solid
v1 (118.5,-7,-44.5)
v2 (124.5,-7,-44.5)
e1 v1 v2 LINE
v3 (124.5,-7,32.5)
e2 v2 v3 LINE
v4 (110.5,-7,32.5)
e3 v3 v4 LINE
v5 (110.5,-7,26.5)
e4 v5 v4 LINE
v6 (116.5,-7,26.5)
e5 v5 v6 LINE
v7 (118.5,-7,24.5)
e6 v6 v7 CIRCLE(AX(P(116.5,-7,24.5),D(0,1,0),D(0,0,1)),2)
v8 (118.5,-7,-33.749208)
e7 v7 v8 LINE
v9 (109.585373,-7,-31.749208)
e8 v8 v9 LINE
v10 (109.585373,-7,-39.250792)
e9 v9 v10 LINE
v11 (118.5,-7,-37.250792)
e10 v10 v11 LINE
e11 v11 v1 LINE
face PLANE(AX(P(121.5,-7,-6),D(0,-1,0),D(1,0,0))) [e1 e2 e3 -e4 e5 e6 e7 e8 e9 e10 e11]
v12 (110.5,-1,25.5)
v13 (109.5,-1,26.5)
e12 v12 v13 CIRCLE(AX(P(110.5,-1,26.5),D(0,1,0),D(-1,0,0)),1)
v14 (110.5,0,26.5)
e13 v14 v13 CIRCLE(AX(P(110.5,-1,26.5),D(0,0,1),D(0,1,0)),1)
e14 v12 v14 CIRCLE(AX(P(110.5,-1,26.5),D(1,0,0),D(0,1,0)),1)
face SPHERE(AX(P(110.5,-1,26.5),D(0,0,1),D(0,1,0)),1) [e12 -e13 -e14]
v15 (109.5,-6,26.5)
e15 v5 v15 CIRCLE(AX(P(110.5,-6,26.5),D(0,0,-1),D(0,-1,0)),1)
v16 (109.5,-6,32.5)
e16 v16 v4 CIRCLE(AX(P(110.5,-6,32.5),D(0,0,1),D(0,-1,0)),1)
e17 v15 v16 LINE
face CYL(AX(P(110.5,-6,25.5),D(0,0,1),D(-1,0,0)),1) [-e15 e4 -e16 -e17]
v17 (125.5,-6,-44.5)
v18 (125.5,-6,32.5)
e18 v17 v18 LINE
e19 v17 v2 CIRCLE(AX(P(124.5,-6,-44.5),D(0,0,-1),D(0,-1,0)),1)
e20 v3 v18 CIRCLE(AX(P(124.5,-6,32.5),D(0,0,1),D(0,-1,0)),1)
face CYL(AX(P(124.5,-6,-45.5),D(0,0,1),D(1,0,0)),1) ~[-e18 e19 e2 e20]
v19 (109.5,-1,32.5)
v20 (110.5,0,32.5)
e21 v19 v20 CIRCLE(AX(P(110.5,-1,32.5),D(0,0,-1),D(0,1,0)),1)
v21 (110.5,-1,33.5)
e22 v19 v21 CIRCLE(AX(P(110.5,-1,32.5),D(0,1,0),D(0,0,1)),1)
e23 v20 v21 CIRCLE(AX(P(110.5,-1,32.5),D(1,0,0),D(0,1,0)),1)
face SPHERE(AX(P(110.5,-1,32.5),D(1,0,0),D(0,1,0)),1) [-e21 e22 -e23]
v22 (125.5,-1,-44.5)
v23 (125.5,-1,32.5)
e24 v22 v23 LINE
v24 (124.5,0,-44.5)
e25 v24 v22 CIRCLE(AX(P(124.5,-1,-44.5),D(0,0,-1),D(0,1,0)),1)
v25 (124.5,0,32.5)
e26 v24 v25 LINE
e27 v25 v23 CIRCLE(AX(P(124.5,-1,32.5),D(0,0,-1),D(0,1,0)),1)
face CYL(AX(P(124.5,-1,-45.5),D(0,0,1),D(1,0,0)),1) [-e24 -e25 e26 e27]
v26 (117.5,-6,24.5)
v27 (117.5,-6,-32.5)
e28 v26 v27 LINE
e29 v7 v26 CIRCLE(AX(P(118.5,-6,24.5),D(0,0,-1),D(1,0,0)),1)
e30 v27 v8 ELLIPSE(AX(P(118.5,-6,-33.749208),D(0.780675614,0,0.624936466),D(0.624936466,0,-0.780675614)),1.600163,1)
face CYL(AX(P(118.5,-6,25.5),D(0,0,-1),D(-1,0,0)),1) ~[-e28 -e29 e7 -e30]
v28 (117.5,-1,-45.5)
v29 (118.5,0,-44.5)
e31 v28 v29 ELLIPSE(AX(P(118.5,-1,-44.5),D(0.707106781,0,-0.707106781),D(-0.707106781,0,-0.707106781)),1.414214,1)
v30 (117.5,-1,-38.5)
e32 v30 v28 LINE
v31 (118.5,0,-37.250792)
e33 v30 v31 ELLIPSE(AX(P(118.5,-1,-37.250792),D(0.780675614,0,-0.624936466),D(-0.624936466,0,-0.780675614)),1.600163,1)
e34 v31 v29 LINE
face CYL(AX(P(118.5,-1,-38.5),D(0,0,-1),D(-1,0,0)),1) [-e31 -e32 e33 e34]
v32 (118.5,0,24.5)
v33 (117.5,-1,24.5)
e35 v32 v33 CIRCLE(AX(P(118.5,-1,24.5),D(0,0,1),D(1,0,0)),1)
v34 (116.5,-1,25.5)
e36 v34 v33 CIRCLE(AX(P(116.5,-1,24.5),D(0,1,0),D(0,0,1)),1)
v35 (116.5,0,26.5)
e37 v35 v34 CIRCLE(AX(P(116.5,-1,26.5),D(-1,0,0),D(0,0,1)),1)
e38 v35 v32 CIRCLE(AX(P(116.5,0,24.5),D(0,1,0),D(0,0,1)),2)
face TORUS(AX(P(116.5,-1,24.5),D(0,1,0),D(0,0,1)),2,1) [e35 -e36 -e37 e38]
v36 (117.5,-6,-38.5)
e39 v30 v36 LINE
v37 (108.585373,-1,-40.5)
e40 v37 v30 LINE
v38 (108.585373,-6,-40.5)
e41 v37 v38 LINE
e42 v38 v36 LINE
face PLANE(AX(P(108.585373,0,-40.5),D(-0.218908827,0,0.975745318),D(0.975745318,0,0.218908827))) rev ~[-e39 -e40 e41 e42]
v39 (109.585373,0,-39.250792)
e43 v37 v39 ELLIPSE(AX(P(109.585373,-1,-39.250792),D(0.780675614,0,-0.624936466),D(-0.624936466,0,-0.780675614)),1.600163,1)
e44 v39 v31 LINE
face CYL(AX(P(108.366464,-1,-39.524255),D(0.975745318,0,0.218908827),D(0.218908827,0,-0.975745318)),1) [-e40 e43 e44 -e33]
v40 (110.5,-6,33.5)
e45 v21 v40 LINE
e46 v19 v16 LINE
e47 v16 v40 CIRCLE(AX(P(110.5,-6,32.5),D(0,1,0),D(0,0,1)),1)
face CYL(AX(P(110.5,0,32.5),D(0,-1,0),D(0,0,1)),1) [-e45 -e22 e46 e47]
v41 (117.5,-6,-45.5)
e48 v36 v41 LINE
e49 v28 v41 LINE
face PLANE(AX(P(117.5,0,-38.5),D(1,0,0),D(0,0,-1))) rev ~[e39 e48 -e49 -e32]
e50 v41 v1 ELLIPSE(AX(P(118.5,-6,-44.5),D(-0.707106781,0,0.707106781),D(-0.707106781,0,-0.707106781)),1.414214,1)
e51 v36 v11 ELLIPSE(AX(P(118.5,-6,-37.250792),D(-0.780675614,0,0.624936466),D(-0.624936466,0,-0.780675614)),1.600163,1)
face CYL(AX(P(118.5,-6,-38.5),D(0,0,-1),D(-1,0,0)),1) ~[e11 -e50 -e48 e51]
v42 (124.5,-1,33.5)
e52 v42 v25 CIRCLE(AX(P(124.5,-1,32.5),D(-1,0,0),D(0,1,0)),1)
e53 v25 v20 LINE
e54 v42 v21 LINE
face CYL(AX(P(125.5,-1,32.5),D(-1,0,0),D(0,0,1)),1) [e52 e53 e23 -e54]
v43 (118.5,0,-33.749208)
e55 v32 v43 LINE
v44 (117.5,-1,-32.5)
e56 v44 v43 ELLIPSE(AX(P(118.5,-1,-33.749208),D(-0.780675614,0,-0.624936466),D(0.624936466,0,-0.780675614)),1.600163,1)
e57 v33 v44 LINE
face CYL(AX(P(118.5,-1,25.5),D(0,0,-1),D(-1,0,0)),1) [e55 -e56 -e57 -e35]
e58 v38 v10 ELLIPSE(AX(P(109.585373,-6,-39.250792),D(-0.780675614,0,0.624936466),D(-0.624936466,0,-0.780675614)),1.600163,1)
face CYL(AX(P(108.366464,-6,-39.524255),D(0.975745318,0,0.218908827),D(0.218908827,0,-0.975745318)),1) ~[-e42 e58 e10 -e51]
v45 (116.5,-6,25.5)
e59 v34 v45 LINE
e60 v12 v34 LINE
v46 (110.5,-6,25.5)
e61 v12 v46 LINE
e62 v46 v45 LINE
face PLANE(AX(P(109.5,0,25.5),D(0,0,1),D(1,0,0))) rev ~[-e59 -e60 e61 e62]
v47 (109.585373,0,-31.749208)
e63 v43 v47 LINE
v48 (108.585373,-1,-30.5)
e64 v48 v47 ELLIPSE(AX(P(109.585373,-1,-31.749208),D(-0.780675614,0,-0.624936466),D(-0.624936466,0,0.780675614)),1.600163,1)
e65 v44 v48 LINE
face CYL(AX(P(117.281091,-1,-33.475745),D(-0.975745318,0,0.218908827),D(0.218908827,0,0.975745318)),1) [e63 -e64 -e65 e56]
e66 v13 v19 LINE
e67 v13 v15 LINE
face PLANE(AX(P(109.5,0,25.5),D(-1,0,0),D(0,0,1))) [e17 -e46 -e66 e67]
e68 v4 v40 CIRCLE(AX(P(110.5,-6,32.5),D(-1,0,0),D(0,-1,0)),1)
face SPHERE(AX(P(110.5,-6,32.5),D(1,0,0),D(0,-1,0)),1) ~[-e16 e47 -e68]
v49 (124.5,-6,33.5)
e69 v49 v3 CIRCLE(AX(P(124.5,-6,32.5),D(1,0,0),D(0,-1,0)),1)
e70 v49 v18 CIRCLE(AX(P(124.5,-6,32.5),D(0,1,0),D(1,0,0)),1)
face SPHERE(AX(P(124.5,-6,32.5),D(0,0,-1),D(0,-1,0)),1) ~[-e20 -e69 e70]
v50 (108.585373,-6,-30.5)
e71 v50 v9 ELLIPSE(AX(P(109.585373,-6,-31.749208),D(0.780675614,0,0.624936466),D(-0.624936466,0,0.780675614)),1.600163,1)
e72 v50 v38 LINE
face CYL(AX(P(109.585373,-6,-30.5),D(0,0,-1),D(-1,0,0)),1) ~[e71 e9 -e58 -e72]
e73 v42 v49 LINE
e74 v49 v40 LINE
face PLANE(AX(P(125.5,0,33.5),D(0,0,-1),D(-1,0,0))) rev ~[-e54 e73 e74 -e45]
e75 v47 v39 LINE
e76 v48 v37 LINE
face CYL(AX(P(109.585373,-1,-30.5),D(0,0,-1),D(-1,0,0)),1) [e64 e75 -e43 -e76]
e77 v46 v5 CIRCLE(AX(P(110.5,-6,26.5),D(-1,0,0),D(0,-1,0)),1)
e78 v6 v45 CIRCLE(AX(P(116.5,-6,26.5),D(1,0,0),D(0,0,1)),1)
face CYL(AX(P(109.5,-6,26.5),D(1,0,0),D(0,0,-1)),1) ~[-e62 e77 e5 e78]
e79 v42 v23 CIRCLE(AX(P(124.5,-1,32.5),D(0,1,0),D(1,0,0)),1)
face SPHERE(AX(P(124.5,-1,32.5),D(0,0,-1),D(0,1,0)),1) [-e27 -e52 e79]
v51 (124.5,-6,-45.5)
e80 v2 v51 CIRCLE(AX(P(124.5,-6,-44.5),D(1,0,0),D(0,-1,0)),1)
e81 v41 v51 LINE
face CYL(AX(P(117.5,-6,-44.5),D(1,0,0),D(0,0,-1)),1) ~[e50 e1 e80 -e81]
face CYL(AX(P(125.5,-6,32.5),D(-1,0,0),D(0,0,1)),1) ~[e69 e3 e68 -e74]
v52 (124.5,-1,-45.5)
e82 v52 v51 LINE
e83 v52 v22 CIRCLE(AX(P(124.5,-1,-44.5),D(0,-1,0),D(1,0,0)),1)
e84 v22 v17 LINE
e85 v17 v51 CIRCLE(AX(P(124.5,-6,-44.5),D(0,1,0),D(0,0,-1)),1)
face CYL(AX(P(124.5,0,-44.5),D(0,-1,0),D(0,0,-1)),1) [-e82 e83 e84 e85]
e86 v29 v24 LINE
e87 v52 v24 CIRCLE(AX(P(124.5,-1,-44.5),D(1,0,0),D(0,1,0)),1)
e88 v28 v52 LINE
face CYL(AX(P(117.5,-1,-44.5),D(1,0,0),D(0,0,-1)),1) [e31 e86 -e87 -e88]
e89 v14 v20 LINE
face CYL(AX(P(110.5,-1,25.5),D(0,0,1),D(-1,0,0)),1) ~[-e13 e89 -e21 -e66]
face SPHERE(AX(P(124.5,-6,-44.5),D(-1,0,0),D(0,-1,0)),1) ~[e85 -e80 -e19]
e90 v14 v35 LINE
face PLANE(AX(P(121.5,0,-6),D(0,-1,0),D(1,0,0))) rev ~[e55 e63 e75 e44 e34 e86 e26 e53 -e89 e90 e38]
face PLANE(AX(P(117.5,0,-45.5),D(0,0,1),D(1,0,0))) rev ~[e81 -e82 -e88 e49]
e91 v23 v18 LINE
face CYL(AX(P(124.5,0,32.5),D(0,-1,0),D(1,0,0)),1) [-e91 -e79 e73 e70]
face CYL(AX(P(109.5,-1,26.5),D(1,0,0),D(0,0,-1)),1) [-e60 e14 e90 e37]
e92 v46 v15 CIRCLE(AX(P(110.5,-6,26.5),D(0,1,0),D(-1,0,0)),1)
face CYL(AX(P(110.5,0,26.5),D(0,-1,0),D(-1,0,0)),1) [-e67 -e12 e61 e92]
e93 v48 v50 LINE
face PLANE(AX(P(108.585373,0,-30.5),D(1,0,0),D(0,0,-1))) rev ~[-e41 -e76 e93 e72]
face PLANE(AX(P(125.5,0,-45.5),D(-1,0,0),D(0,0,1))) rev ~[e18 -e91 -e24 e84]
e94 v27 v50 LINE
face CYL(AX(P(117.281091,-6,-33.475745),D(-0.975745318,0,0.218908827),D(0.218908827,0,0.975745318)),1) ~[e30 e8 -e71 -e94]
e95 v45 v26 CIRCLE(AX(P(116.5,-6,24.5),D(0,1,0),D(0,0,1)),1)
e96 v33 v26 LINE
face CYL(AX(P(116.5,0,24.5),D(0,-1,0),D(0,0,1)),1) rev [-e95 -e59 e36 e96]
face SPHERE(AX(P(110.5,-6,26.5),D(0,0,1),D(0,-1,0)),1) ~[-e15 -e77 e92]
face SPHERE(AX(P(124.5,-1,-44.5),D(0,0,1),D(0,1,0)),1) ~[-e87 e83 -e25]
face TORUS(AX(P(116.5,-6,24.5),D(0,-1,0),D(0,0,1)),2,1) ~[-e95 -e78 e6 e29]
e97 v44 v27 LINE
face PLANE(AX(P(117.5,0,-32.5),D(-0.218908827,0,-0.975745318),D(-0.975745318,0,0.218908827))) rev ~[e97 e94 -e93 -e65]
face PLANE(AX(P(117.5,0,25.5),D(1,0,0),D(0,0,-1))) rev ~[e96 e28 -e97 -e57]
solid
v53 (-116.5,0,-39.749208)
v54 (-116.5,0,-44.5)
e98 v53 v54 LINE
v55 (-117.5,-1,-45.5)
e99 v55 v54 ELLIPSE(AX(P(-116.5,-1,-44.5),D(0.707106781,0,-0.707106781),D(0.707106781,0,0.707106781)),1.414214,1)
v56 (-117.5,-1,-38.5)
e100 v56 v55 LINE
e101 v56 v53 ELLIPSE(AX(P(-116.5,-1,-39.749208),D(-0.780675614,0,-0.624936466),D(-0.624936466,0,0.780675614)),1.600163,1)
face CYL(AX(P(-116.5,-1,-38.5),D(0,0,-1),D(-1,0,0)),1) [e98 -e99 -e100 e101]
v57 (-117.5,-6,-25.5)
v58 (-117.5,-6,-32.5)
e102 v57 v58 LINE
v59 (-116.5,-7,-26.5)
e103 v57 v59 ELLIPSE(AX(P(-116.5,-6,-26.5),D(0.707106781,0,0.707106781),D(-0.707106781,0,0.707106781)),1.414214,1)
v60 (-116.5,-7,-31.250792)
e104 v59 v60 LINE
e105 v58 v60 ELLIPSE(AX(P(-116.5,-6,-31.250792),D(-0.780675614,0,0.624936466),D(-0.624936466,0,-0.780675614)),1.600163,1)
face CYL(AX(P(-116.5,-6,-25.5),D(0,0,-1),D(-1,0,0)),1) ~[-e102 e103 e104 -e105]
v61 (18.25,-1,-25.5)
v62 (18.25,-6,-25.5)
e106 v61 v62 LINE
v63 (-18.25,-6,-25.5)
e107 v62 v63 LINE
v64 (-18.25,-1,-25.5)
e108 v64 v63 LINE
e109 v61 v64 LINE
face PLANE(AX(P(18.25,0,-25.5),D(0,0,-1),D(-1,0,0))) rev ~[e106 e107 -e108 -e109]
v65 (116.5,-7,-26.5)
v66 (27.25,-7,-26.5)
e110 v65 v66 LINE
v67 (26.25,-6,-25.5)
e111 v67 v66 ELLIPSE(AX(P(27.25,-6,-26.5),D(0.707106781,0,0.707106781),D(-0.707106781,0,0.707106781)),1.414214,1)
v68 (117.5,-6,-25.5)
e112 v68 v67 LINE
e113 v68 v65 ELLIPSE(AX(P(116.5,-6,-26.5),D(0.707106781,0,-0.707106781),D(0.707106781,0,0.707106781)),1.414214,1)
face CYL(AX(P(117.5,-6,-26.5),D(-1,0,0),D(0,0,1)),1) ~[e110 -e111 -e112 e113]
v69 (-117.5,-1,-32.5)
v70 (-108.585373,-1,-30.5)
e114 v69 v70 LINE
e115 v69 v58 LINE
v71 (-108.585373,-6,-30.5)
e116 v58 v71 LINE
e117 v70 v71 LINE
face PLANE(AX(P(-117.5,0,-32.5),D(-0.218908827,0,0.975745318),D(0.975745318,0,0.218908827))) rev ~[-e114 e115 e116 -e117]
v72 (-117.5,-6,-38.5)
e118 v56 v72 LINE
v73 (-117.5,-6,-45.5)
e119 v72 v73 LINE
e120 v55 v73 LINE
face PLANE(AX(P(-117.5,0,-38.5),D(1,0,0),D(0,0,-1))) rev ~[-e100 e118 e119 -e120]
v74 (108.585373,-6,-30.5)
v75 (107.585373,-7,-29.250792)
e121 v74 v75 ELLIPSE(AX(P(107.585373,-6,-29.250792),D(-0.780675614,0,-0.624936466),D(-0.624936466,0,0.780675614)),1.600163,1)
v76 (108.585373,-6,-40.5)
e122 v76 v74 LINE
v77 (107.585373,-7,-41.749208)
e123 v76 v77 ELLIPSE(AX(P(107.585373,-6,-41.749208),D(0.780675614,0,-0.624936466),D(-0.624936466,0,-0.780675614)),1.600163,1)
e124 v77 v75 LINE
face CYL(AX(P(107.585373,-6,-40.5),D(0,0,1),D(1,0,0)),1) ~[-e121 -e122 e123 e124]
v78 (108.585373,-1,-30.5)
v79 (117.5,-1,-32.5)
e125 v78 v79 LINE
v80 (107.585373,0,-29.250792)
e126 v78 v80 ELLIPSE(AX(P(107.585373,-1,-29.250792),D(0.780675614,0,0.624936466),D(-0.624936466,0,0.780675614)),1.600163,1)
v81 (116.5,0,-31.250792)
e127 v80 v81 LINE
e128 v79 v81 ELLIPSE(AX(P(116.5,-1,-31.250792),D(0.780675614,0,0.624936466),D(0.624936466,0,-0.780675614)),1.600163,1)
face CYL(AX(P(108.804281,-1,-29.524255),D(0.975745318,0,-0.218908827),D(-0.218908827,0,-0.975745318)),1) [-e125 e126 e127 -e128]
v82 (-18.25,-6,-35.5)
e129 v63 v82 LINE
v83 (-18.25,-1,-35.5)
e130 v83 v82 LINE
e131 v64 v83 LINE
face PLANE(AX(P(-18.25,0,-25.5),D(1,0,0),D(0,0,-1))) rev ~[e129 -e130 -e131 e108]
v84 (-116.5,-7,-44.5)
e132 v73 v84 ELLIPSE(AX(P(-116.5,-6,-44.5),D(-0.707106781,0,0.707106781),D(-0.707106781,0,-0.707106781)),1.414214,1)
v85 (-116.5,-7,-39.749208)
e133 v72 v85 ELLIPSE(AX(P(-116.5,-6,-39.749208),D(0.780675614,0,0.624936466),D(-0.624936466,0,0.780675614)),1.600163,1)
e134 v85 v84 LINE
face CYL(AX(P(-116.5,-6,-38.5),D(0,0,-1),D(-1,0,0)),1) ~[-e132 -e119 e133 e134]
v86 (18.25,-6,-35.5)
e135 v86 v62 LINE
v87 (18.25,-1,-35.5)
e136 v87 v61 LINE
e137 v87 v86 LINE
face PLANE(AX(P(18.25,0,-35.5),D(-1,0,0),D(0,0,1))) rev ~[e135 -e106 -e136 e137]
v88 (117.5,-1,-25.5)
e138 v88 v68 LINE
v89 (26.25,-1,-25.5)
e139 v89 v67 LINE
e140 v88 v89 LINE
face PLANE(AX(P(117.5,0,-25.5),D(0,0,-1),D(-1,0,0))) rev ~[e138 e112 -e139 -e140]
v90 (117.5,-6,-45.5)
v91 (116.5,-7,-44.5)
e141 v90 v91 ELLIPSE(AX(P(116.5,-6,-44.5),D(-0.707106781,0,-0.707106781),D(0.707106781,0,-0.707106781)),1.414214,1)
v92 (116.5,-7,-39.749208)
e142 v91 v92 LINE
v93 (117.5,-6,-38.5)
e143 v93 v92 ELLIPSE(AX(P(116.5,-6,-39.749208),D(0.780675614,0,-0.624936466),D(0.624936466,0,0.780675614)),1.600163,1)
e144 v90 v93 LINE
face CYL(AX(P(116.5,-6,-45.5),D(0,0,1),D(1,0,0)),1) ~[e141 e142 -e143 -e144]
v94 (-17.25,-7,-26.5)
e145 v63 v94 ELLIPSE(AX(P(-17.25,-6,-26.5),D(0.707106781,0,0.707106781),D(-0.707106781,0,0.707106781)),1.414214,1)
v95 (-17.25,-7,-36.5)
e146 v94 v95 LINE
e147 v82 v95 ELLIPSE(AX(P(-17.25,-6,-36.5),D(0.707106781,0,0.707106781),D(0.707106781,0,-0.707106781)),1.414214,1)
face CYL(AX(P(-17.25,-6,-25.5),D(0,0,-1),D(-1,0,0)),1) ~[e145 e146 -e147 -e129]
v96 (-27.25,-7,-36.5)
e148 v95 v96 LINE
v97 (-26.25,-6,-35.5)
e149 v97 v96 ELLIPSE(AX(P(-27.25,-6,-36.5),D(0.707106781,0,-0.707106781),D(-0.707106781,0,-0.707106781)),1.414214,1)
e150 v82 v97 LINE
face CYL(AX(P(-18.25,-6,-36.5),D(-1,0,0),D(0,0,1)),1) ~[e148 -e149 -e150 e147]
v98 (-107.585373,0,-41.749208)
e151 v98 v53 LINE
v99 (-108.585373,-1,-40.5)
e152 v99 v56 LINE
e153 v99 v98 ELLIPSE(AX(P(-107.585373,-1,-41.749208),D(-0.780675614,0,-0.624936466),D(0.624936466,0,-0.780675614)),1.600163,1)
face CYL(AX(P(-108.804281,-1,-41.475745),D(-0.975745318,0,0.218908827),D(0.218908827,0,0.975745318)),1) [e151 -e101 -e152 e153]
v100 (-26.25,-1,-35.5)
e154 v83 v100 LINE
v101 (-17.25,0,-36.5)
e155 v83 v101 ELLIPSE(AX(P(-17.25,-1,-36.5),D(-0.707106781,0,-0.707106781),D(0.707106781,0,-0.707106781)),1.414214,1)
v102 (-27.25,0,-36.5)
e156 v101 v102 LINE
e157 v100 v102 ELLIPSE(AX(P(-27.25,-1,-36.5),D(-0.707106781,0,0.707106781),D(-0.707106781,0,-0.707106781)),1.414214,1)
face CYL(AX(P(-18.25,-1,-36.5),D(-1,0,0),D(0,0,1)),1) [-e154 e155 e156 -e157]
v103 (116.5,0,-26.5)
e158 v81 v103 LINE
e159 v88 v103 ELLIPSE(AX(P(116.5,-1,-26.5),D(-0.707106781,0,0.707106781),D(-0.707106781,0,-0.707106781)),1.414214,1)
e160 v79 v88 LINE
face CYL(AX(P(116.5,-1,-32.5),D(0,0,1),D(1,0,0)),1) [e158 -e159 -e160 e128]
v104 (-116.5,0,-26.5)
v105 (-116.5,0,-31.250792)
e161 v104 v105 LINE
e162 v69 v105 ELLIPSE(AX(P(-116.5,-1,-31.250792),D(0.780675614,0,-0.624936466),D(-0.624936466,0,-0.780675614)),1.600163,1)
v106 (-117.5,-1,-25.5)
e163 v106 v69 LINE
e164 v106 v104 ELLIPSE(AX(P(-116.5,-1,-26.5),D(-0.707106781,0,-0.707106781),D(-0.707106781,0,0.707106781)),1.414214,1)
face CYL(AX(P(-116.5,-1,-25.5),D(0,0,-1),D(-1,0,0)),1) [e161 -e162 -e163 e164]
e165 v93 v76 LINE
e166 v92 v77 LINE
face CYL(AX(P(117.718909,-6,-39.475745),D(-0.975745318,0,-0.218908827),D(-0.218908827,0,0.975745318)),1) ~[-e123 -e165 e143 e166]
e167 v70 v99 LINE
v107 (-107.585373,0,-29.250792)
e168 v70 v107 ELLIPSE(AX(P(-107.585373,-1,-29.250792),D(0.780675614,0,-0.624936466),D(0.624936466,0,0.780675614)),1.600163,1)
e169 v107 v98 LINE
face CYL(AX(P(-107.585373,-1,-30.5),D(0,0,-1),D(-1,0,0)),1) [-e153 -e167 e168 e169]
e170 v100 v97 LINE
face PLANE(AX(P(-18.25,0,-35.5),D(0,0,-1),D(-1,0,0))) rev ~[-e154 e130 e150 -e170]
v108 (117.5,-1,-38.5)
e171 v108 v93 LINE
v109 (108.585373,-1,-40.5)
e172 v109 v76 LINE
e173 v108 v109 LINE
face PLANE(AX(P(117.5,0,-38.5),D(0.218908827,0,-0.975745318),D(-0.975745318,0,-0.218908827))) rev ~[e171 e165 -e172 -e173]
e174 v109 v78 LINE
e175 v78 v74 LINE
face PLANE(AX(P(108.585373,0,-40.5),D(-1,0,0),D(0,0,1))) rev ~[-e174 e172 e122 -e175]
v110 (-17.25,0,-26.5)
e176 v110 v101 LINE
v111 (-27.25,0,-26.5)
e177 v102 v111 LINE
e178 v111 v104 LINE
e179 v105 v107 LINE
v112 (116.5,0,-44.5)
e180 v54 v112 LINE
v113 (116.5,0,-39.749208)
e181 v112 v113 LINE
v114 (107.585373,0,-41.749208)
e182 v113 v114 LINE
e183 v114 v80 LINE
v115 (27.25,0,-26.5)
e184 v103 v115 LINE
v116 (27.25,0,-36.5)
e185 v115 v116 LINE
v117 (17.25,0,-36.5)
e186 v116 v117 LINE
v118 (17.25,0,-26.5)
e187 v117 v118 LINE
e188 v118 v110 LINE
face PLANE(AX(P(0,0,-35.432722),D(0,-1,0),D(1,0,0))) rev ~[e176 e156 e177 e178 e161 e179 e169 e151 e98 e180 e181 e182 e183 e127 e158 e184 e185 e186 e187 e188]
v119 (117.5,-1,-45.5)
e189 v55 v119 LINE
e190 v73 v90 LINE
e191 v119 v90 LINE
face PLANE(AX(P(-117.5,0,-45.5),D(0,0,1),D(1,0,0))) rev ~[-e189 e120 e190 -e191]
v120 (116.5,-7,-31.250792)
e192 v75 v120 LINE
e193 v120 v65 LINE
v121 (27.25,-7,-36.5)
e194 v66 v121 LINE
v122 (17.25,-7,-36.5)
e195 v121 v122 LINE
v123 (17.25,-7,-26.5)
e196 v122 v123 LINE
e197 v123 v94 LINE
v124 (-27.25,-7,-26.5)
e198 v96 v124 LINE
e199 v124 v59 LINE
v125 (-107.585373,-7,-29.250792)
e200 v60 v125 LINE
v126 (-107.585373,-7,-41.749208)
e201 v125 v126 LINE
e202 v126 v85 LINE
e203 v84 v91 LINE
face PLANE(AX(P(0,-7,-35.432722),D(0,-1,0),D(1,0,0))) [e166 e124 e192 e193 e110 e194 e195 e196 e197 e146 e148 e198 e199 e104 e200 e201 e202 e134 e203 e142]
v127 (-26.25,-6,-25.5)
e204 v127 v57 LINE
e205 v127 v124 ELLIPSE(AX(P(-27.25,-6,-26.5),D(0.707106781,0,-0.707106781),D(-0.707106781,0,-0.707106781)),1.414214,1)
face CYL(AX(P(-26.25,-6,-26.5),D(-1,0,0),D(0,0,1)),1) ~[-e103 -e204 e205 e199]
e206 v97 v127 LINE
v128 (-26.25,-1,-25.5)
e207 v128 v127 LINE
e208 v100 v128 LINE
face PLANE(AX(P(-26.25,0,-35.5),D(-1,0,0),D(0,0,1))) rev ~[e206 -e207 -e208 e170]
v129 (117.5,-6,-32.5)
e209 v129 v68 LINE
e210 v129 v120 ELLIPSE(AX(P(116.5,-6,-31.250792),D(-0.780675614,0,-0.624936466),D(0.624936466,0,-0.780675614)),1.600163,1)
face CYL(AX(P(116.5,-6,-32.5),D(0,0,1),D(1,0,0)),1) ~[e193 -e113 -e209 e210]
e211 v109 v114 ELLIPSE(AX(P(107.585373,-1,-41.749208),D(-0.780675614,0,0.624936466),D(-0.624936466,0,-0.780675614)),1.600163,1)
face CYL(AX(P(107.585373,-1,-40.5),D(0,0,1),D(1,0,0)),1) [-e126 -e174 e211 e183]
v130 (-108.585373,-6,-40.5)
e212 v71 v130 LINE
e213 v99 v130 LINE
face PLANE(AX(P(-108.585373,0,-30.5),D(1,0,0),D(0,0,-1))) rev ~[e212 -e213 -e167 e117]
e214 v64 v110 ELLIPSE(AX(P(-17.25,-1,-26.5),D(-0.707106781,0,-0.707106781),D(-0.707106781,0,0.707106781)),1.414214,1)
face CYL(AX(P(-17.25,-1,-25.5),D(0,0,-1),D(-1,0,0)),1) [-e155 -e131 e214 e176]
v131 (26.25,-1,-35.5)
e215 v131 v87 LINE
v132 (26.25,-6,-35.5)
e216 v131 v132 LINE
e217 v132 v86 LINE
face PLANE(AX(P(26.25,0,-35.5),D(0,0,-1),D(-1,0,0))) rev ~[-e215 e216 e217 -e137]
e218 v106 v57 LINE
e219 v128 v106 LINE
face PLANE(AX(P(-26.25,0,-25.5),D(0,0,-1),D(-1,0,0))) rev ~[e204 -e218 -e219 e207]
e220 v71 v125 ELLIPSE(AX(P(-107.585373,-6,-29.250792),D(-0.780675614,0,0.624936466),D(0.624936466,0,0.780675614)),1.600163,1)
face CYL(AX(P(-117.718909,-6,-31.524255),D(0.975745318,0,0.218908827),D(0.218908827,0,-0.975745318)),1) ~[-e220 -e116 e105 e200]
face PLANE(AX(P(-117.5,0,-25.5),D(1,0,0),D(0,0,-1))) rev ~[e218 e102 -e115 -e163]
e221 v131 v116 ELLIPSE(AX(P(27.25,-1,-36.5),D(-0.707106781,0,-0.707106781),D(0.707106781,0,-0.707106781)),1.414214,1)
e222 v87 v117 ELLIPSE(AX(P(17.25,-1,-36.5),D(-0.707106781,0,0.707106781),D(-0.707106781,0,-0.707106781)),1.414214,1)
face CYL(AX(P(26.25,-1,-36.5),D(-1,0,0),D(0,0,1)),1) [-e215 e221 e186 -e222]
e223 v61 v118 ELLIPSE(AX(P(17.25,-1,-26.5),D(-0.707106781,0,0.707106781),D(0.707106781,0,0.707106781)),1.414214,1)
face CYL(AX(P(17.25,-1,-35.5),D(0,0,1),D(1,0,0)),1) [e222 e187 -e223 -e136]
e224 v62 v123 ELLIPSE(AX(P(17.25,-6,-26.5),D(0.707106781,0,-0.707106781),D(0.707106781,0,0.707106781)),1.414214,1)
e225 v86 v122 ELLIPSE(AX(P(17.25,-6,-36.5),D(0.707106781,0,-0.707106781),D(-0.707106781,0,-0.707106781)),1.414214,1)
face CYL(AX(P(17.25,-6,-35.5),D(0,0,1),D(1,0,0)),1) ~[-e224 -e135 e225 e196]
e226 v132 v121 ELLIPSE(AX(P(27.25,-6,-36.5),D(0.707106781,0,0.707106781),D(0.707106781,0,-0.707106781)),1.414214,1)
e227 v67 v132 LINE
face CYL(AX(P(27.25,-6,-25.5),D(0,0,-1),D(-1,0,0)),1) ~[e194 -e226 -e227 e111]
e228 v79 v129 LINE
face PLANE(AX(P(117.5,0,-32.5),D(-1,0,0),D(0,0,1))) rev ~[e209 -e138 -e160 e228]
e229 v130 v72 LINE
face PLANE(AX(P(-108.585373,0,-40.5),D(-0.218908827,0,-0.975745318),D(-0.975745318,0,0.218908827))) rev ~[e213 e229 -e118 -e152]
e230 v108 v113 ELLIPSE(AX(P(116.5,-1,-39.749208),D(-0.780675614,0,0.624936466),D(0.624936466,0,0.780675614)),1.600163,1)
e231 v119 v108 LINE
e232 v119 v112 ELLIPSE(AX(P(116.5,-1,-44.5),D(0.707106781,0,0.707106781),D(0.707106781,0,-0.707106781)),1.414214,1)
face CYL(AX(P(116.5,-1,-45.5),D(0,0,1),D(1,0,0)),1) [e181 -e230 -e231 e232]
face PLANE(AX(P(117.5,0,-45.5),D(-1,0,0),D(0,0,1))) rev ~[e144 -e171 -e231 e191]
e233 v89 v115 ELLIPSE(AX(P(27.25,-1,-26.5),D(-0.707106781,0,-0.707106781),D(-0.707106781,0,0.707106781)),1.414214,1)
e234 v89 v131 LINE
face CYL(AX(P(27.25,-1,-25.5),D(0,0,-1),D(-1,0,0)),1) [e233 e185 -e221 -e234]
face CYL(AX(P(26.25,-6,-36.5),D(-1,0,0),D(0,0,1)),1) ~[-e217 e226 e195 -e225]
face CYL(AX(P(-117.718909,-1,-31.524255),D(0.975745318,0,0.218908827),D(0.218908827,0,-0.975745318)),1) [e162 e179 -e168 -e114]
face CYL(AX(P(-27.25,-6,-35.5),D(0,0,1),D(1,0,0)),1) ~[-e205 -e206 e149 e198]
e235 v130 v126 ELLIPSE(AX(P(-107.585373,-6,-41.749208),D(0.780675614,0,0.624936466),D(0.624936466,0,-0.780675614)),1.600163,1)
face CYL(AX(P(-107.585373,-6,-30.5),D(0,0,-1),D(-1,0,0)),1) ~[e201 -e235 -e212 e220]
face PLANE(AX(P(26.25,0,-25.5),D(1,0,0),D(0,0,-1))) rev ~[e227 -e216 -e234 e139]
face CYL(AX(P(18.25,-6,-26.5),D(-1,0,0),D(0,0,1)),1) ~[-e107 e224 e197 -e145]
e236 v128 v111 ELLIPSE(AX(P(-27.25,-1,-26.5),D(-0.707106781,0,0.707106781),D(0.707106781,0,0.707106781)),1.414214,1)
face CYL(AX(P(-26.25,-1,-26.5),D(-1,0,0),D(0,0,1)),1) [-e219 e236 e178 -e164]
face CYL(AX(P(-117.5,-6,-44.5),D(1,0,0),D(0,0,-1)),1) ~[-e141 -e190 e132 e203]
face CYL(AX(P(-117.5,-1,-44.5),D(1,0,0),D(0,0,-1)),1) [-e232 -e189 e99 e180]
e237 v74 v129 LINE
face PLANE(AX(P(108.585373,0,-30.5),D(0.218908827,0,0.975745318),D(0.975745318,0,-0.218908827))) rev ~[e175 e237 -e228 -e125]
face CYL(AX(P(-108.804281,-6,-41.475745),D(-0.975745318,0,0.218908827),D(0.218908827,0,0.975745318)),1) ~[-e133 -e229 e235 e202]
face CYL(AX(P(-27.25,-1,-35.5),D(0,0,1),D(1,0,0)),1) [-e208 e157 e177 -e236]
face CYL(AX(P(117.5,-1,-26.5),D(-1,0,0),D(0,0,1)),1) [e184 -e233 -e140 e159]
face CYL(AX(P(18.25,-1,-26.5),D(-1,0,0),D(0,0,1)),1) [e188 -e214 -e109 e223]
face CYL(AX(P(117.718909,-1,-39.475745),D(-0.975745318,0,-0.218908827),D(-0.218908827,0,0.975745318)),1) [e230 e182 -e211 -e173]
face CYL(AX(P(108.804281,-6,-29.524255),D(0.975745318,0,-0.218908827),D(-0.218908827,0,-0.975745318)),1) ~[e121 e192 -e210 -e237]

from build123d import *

# Parameters (mm, degrees)
F1_DEPTH = 7
F2_R     = 1
F0_W     = 8
F0_H     = 8
F3_DEPTH = 7
F4_R     = 1


with BuildPart() as f1:
    # F0 (on Front) → F1 (new body)
    with BuildSketch(Plane.XZ):
        Polygon((-26.25, -25.5), (-117.5, -25.5), (-117.5, -32.5), (-108.5853725672, -30.5), (-108.5853725672, -40.5), (-117.5, -38.5), (-117.5, -45.5), (117.5, -45.5), (117.5, -38.5), (108.5853725672, -40.5), (108.5853725672, -30.5), (117.5, -32.5), (117.5, -25.5), (26.25, -25.5), (26.25, -35.5), (18.25, -35.5), (18.25, -25.5), (-18.25, -25.5), (-18.25, -35.5), (-26.25, -35.5), align=None)
    extrude(amount=F1_DEPTH)

    # F2
    f2_edges = [f1.edges().sort_by_distance(p)[0] for p in [
        (0, 0, -45.5),
        (71.875, 0, -25.5),
        (26.25, 0, -30.5),
        (22.25, 0, -35.5),
        (18.25, 0, -30.5),
        (0, 0, -25.5),
        (-18.25, 0, -30.5),
        (-22.25, 0, -35.5),
        (-26.25, 0, -30.5),
        (-71.875, 0, -25.5),
        (-117.5, 0, -29),
        (-113.042686, 0, -31.5),
        (-108.585373, 0, -35.5),
        (-113.042686, 0, -39.5),
        (-117.5, 0, -42),
        (117.5, 0, -42),
        (113.042686, 0, -39.5),
        (108.585373, 0, -35.5),
        (113.042686, 0, -31.5),
        (117.5, 0, -29),
        (-71.875, -7, -25.5),
        (-117.5, -7, -29),
        (-113.042686, -7, -31.5),
        (-108.585373, -7, -35.5),
        (-113.042686, -7, -39.5),
        (-117.5, -7, -42),
        (0, -7, -45.5),
        (117.5, -7, -42),
        (113.042686, -7, -39.5),
        (108.585373, -7, -35.5),
        (113.042686, -7, -31.5),
        (117.5, -7, -29),
        (71.875, -7, -25.5),
        (26.25, -7, -30.5),
        (22.25, -7, -35.5),
        (18.25, -7, -30.5),
        (0, -7, -25.5),
        (-18.25, -7, -30.5),
        (-22.25, -7, -35.5),
        (-26.25, -7, -30.5),
    ]]
    fillet(f2_edges, radius=F2_R)


with BuildPart() as f3:
    # F0 (on Front) → F3 (new body)
    with BuildSketch(Plane.XZ):
        Polygon((117.5, -38.5), (117.5, -45.5), (125.5, -45.5), (125.5, 33.5), (117.5, 33.5), (117.5, 25.5), (117.5, -25.5), (117.5, -32.5), align=None)
        Polygon((108.5853725672, -40.5), (117.5, -38.5), (117.5, -32.5), (108.5853725672, -30.5), align=None)
        with Locations((113.5, 29.5)):
            Rectangle(F0_W, F0_H)
    extrude(amount=F3_DEPTH)

    # F4
    f4_edges = [f3.edges().sort_by_distance(p)[0] for p in [
        (125.5, 0, -6),
        (117.5, 0, -42),
        (121.5, 0, -45.5),
        (117.5, 0, 33.5),
        (109.5, 0, 29.5),
        (113.5, 0, 25.5),
        (117.5, 0, -3.5),
        (113.042686, 0, -31.5),
        (108.585373, 0, -35.5),
        (113.042686, 0, -39.5),
        (117.5, -7, -42),
        (121.5, -7, -45.5),
        (125.5, -7, -6),
        (117.5, -7, 33.5),
        (109.5, -7, 29.5),
        (113.5, -7, 25.5),
        (117.5, -7, -3.5),
        (113.042686, -7, -31.5),
        (108.585373, -7, -35.5),
        (113.042686, -7, -39.5),
        (125.5, -3.5, 33.5),
        (109.5, -3.5, 33.5),
        (125.5, -3.5, -45.5),
        (109.5, -3.5, 25.5),
        (117.5, -3.5, 25.5),
    ]]
    fillet(f4_edges, radius=F4_R)


solid = Compound([f1.part, f3.part])
